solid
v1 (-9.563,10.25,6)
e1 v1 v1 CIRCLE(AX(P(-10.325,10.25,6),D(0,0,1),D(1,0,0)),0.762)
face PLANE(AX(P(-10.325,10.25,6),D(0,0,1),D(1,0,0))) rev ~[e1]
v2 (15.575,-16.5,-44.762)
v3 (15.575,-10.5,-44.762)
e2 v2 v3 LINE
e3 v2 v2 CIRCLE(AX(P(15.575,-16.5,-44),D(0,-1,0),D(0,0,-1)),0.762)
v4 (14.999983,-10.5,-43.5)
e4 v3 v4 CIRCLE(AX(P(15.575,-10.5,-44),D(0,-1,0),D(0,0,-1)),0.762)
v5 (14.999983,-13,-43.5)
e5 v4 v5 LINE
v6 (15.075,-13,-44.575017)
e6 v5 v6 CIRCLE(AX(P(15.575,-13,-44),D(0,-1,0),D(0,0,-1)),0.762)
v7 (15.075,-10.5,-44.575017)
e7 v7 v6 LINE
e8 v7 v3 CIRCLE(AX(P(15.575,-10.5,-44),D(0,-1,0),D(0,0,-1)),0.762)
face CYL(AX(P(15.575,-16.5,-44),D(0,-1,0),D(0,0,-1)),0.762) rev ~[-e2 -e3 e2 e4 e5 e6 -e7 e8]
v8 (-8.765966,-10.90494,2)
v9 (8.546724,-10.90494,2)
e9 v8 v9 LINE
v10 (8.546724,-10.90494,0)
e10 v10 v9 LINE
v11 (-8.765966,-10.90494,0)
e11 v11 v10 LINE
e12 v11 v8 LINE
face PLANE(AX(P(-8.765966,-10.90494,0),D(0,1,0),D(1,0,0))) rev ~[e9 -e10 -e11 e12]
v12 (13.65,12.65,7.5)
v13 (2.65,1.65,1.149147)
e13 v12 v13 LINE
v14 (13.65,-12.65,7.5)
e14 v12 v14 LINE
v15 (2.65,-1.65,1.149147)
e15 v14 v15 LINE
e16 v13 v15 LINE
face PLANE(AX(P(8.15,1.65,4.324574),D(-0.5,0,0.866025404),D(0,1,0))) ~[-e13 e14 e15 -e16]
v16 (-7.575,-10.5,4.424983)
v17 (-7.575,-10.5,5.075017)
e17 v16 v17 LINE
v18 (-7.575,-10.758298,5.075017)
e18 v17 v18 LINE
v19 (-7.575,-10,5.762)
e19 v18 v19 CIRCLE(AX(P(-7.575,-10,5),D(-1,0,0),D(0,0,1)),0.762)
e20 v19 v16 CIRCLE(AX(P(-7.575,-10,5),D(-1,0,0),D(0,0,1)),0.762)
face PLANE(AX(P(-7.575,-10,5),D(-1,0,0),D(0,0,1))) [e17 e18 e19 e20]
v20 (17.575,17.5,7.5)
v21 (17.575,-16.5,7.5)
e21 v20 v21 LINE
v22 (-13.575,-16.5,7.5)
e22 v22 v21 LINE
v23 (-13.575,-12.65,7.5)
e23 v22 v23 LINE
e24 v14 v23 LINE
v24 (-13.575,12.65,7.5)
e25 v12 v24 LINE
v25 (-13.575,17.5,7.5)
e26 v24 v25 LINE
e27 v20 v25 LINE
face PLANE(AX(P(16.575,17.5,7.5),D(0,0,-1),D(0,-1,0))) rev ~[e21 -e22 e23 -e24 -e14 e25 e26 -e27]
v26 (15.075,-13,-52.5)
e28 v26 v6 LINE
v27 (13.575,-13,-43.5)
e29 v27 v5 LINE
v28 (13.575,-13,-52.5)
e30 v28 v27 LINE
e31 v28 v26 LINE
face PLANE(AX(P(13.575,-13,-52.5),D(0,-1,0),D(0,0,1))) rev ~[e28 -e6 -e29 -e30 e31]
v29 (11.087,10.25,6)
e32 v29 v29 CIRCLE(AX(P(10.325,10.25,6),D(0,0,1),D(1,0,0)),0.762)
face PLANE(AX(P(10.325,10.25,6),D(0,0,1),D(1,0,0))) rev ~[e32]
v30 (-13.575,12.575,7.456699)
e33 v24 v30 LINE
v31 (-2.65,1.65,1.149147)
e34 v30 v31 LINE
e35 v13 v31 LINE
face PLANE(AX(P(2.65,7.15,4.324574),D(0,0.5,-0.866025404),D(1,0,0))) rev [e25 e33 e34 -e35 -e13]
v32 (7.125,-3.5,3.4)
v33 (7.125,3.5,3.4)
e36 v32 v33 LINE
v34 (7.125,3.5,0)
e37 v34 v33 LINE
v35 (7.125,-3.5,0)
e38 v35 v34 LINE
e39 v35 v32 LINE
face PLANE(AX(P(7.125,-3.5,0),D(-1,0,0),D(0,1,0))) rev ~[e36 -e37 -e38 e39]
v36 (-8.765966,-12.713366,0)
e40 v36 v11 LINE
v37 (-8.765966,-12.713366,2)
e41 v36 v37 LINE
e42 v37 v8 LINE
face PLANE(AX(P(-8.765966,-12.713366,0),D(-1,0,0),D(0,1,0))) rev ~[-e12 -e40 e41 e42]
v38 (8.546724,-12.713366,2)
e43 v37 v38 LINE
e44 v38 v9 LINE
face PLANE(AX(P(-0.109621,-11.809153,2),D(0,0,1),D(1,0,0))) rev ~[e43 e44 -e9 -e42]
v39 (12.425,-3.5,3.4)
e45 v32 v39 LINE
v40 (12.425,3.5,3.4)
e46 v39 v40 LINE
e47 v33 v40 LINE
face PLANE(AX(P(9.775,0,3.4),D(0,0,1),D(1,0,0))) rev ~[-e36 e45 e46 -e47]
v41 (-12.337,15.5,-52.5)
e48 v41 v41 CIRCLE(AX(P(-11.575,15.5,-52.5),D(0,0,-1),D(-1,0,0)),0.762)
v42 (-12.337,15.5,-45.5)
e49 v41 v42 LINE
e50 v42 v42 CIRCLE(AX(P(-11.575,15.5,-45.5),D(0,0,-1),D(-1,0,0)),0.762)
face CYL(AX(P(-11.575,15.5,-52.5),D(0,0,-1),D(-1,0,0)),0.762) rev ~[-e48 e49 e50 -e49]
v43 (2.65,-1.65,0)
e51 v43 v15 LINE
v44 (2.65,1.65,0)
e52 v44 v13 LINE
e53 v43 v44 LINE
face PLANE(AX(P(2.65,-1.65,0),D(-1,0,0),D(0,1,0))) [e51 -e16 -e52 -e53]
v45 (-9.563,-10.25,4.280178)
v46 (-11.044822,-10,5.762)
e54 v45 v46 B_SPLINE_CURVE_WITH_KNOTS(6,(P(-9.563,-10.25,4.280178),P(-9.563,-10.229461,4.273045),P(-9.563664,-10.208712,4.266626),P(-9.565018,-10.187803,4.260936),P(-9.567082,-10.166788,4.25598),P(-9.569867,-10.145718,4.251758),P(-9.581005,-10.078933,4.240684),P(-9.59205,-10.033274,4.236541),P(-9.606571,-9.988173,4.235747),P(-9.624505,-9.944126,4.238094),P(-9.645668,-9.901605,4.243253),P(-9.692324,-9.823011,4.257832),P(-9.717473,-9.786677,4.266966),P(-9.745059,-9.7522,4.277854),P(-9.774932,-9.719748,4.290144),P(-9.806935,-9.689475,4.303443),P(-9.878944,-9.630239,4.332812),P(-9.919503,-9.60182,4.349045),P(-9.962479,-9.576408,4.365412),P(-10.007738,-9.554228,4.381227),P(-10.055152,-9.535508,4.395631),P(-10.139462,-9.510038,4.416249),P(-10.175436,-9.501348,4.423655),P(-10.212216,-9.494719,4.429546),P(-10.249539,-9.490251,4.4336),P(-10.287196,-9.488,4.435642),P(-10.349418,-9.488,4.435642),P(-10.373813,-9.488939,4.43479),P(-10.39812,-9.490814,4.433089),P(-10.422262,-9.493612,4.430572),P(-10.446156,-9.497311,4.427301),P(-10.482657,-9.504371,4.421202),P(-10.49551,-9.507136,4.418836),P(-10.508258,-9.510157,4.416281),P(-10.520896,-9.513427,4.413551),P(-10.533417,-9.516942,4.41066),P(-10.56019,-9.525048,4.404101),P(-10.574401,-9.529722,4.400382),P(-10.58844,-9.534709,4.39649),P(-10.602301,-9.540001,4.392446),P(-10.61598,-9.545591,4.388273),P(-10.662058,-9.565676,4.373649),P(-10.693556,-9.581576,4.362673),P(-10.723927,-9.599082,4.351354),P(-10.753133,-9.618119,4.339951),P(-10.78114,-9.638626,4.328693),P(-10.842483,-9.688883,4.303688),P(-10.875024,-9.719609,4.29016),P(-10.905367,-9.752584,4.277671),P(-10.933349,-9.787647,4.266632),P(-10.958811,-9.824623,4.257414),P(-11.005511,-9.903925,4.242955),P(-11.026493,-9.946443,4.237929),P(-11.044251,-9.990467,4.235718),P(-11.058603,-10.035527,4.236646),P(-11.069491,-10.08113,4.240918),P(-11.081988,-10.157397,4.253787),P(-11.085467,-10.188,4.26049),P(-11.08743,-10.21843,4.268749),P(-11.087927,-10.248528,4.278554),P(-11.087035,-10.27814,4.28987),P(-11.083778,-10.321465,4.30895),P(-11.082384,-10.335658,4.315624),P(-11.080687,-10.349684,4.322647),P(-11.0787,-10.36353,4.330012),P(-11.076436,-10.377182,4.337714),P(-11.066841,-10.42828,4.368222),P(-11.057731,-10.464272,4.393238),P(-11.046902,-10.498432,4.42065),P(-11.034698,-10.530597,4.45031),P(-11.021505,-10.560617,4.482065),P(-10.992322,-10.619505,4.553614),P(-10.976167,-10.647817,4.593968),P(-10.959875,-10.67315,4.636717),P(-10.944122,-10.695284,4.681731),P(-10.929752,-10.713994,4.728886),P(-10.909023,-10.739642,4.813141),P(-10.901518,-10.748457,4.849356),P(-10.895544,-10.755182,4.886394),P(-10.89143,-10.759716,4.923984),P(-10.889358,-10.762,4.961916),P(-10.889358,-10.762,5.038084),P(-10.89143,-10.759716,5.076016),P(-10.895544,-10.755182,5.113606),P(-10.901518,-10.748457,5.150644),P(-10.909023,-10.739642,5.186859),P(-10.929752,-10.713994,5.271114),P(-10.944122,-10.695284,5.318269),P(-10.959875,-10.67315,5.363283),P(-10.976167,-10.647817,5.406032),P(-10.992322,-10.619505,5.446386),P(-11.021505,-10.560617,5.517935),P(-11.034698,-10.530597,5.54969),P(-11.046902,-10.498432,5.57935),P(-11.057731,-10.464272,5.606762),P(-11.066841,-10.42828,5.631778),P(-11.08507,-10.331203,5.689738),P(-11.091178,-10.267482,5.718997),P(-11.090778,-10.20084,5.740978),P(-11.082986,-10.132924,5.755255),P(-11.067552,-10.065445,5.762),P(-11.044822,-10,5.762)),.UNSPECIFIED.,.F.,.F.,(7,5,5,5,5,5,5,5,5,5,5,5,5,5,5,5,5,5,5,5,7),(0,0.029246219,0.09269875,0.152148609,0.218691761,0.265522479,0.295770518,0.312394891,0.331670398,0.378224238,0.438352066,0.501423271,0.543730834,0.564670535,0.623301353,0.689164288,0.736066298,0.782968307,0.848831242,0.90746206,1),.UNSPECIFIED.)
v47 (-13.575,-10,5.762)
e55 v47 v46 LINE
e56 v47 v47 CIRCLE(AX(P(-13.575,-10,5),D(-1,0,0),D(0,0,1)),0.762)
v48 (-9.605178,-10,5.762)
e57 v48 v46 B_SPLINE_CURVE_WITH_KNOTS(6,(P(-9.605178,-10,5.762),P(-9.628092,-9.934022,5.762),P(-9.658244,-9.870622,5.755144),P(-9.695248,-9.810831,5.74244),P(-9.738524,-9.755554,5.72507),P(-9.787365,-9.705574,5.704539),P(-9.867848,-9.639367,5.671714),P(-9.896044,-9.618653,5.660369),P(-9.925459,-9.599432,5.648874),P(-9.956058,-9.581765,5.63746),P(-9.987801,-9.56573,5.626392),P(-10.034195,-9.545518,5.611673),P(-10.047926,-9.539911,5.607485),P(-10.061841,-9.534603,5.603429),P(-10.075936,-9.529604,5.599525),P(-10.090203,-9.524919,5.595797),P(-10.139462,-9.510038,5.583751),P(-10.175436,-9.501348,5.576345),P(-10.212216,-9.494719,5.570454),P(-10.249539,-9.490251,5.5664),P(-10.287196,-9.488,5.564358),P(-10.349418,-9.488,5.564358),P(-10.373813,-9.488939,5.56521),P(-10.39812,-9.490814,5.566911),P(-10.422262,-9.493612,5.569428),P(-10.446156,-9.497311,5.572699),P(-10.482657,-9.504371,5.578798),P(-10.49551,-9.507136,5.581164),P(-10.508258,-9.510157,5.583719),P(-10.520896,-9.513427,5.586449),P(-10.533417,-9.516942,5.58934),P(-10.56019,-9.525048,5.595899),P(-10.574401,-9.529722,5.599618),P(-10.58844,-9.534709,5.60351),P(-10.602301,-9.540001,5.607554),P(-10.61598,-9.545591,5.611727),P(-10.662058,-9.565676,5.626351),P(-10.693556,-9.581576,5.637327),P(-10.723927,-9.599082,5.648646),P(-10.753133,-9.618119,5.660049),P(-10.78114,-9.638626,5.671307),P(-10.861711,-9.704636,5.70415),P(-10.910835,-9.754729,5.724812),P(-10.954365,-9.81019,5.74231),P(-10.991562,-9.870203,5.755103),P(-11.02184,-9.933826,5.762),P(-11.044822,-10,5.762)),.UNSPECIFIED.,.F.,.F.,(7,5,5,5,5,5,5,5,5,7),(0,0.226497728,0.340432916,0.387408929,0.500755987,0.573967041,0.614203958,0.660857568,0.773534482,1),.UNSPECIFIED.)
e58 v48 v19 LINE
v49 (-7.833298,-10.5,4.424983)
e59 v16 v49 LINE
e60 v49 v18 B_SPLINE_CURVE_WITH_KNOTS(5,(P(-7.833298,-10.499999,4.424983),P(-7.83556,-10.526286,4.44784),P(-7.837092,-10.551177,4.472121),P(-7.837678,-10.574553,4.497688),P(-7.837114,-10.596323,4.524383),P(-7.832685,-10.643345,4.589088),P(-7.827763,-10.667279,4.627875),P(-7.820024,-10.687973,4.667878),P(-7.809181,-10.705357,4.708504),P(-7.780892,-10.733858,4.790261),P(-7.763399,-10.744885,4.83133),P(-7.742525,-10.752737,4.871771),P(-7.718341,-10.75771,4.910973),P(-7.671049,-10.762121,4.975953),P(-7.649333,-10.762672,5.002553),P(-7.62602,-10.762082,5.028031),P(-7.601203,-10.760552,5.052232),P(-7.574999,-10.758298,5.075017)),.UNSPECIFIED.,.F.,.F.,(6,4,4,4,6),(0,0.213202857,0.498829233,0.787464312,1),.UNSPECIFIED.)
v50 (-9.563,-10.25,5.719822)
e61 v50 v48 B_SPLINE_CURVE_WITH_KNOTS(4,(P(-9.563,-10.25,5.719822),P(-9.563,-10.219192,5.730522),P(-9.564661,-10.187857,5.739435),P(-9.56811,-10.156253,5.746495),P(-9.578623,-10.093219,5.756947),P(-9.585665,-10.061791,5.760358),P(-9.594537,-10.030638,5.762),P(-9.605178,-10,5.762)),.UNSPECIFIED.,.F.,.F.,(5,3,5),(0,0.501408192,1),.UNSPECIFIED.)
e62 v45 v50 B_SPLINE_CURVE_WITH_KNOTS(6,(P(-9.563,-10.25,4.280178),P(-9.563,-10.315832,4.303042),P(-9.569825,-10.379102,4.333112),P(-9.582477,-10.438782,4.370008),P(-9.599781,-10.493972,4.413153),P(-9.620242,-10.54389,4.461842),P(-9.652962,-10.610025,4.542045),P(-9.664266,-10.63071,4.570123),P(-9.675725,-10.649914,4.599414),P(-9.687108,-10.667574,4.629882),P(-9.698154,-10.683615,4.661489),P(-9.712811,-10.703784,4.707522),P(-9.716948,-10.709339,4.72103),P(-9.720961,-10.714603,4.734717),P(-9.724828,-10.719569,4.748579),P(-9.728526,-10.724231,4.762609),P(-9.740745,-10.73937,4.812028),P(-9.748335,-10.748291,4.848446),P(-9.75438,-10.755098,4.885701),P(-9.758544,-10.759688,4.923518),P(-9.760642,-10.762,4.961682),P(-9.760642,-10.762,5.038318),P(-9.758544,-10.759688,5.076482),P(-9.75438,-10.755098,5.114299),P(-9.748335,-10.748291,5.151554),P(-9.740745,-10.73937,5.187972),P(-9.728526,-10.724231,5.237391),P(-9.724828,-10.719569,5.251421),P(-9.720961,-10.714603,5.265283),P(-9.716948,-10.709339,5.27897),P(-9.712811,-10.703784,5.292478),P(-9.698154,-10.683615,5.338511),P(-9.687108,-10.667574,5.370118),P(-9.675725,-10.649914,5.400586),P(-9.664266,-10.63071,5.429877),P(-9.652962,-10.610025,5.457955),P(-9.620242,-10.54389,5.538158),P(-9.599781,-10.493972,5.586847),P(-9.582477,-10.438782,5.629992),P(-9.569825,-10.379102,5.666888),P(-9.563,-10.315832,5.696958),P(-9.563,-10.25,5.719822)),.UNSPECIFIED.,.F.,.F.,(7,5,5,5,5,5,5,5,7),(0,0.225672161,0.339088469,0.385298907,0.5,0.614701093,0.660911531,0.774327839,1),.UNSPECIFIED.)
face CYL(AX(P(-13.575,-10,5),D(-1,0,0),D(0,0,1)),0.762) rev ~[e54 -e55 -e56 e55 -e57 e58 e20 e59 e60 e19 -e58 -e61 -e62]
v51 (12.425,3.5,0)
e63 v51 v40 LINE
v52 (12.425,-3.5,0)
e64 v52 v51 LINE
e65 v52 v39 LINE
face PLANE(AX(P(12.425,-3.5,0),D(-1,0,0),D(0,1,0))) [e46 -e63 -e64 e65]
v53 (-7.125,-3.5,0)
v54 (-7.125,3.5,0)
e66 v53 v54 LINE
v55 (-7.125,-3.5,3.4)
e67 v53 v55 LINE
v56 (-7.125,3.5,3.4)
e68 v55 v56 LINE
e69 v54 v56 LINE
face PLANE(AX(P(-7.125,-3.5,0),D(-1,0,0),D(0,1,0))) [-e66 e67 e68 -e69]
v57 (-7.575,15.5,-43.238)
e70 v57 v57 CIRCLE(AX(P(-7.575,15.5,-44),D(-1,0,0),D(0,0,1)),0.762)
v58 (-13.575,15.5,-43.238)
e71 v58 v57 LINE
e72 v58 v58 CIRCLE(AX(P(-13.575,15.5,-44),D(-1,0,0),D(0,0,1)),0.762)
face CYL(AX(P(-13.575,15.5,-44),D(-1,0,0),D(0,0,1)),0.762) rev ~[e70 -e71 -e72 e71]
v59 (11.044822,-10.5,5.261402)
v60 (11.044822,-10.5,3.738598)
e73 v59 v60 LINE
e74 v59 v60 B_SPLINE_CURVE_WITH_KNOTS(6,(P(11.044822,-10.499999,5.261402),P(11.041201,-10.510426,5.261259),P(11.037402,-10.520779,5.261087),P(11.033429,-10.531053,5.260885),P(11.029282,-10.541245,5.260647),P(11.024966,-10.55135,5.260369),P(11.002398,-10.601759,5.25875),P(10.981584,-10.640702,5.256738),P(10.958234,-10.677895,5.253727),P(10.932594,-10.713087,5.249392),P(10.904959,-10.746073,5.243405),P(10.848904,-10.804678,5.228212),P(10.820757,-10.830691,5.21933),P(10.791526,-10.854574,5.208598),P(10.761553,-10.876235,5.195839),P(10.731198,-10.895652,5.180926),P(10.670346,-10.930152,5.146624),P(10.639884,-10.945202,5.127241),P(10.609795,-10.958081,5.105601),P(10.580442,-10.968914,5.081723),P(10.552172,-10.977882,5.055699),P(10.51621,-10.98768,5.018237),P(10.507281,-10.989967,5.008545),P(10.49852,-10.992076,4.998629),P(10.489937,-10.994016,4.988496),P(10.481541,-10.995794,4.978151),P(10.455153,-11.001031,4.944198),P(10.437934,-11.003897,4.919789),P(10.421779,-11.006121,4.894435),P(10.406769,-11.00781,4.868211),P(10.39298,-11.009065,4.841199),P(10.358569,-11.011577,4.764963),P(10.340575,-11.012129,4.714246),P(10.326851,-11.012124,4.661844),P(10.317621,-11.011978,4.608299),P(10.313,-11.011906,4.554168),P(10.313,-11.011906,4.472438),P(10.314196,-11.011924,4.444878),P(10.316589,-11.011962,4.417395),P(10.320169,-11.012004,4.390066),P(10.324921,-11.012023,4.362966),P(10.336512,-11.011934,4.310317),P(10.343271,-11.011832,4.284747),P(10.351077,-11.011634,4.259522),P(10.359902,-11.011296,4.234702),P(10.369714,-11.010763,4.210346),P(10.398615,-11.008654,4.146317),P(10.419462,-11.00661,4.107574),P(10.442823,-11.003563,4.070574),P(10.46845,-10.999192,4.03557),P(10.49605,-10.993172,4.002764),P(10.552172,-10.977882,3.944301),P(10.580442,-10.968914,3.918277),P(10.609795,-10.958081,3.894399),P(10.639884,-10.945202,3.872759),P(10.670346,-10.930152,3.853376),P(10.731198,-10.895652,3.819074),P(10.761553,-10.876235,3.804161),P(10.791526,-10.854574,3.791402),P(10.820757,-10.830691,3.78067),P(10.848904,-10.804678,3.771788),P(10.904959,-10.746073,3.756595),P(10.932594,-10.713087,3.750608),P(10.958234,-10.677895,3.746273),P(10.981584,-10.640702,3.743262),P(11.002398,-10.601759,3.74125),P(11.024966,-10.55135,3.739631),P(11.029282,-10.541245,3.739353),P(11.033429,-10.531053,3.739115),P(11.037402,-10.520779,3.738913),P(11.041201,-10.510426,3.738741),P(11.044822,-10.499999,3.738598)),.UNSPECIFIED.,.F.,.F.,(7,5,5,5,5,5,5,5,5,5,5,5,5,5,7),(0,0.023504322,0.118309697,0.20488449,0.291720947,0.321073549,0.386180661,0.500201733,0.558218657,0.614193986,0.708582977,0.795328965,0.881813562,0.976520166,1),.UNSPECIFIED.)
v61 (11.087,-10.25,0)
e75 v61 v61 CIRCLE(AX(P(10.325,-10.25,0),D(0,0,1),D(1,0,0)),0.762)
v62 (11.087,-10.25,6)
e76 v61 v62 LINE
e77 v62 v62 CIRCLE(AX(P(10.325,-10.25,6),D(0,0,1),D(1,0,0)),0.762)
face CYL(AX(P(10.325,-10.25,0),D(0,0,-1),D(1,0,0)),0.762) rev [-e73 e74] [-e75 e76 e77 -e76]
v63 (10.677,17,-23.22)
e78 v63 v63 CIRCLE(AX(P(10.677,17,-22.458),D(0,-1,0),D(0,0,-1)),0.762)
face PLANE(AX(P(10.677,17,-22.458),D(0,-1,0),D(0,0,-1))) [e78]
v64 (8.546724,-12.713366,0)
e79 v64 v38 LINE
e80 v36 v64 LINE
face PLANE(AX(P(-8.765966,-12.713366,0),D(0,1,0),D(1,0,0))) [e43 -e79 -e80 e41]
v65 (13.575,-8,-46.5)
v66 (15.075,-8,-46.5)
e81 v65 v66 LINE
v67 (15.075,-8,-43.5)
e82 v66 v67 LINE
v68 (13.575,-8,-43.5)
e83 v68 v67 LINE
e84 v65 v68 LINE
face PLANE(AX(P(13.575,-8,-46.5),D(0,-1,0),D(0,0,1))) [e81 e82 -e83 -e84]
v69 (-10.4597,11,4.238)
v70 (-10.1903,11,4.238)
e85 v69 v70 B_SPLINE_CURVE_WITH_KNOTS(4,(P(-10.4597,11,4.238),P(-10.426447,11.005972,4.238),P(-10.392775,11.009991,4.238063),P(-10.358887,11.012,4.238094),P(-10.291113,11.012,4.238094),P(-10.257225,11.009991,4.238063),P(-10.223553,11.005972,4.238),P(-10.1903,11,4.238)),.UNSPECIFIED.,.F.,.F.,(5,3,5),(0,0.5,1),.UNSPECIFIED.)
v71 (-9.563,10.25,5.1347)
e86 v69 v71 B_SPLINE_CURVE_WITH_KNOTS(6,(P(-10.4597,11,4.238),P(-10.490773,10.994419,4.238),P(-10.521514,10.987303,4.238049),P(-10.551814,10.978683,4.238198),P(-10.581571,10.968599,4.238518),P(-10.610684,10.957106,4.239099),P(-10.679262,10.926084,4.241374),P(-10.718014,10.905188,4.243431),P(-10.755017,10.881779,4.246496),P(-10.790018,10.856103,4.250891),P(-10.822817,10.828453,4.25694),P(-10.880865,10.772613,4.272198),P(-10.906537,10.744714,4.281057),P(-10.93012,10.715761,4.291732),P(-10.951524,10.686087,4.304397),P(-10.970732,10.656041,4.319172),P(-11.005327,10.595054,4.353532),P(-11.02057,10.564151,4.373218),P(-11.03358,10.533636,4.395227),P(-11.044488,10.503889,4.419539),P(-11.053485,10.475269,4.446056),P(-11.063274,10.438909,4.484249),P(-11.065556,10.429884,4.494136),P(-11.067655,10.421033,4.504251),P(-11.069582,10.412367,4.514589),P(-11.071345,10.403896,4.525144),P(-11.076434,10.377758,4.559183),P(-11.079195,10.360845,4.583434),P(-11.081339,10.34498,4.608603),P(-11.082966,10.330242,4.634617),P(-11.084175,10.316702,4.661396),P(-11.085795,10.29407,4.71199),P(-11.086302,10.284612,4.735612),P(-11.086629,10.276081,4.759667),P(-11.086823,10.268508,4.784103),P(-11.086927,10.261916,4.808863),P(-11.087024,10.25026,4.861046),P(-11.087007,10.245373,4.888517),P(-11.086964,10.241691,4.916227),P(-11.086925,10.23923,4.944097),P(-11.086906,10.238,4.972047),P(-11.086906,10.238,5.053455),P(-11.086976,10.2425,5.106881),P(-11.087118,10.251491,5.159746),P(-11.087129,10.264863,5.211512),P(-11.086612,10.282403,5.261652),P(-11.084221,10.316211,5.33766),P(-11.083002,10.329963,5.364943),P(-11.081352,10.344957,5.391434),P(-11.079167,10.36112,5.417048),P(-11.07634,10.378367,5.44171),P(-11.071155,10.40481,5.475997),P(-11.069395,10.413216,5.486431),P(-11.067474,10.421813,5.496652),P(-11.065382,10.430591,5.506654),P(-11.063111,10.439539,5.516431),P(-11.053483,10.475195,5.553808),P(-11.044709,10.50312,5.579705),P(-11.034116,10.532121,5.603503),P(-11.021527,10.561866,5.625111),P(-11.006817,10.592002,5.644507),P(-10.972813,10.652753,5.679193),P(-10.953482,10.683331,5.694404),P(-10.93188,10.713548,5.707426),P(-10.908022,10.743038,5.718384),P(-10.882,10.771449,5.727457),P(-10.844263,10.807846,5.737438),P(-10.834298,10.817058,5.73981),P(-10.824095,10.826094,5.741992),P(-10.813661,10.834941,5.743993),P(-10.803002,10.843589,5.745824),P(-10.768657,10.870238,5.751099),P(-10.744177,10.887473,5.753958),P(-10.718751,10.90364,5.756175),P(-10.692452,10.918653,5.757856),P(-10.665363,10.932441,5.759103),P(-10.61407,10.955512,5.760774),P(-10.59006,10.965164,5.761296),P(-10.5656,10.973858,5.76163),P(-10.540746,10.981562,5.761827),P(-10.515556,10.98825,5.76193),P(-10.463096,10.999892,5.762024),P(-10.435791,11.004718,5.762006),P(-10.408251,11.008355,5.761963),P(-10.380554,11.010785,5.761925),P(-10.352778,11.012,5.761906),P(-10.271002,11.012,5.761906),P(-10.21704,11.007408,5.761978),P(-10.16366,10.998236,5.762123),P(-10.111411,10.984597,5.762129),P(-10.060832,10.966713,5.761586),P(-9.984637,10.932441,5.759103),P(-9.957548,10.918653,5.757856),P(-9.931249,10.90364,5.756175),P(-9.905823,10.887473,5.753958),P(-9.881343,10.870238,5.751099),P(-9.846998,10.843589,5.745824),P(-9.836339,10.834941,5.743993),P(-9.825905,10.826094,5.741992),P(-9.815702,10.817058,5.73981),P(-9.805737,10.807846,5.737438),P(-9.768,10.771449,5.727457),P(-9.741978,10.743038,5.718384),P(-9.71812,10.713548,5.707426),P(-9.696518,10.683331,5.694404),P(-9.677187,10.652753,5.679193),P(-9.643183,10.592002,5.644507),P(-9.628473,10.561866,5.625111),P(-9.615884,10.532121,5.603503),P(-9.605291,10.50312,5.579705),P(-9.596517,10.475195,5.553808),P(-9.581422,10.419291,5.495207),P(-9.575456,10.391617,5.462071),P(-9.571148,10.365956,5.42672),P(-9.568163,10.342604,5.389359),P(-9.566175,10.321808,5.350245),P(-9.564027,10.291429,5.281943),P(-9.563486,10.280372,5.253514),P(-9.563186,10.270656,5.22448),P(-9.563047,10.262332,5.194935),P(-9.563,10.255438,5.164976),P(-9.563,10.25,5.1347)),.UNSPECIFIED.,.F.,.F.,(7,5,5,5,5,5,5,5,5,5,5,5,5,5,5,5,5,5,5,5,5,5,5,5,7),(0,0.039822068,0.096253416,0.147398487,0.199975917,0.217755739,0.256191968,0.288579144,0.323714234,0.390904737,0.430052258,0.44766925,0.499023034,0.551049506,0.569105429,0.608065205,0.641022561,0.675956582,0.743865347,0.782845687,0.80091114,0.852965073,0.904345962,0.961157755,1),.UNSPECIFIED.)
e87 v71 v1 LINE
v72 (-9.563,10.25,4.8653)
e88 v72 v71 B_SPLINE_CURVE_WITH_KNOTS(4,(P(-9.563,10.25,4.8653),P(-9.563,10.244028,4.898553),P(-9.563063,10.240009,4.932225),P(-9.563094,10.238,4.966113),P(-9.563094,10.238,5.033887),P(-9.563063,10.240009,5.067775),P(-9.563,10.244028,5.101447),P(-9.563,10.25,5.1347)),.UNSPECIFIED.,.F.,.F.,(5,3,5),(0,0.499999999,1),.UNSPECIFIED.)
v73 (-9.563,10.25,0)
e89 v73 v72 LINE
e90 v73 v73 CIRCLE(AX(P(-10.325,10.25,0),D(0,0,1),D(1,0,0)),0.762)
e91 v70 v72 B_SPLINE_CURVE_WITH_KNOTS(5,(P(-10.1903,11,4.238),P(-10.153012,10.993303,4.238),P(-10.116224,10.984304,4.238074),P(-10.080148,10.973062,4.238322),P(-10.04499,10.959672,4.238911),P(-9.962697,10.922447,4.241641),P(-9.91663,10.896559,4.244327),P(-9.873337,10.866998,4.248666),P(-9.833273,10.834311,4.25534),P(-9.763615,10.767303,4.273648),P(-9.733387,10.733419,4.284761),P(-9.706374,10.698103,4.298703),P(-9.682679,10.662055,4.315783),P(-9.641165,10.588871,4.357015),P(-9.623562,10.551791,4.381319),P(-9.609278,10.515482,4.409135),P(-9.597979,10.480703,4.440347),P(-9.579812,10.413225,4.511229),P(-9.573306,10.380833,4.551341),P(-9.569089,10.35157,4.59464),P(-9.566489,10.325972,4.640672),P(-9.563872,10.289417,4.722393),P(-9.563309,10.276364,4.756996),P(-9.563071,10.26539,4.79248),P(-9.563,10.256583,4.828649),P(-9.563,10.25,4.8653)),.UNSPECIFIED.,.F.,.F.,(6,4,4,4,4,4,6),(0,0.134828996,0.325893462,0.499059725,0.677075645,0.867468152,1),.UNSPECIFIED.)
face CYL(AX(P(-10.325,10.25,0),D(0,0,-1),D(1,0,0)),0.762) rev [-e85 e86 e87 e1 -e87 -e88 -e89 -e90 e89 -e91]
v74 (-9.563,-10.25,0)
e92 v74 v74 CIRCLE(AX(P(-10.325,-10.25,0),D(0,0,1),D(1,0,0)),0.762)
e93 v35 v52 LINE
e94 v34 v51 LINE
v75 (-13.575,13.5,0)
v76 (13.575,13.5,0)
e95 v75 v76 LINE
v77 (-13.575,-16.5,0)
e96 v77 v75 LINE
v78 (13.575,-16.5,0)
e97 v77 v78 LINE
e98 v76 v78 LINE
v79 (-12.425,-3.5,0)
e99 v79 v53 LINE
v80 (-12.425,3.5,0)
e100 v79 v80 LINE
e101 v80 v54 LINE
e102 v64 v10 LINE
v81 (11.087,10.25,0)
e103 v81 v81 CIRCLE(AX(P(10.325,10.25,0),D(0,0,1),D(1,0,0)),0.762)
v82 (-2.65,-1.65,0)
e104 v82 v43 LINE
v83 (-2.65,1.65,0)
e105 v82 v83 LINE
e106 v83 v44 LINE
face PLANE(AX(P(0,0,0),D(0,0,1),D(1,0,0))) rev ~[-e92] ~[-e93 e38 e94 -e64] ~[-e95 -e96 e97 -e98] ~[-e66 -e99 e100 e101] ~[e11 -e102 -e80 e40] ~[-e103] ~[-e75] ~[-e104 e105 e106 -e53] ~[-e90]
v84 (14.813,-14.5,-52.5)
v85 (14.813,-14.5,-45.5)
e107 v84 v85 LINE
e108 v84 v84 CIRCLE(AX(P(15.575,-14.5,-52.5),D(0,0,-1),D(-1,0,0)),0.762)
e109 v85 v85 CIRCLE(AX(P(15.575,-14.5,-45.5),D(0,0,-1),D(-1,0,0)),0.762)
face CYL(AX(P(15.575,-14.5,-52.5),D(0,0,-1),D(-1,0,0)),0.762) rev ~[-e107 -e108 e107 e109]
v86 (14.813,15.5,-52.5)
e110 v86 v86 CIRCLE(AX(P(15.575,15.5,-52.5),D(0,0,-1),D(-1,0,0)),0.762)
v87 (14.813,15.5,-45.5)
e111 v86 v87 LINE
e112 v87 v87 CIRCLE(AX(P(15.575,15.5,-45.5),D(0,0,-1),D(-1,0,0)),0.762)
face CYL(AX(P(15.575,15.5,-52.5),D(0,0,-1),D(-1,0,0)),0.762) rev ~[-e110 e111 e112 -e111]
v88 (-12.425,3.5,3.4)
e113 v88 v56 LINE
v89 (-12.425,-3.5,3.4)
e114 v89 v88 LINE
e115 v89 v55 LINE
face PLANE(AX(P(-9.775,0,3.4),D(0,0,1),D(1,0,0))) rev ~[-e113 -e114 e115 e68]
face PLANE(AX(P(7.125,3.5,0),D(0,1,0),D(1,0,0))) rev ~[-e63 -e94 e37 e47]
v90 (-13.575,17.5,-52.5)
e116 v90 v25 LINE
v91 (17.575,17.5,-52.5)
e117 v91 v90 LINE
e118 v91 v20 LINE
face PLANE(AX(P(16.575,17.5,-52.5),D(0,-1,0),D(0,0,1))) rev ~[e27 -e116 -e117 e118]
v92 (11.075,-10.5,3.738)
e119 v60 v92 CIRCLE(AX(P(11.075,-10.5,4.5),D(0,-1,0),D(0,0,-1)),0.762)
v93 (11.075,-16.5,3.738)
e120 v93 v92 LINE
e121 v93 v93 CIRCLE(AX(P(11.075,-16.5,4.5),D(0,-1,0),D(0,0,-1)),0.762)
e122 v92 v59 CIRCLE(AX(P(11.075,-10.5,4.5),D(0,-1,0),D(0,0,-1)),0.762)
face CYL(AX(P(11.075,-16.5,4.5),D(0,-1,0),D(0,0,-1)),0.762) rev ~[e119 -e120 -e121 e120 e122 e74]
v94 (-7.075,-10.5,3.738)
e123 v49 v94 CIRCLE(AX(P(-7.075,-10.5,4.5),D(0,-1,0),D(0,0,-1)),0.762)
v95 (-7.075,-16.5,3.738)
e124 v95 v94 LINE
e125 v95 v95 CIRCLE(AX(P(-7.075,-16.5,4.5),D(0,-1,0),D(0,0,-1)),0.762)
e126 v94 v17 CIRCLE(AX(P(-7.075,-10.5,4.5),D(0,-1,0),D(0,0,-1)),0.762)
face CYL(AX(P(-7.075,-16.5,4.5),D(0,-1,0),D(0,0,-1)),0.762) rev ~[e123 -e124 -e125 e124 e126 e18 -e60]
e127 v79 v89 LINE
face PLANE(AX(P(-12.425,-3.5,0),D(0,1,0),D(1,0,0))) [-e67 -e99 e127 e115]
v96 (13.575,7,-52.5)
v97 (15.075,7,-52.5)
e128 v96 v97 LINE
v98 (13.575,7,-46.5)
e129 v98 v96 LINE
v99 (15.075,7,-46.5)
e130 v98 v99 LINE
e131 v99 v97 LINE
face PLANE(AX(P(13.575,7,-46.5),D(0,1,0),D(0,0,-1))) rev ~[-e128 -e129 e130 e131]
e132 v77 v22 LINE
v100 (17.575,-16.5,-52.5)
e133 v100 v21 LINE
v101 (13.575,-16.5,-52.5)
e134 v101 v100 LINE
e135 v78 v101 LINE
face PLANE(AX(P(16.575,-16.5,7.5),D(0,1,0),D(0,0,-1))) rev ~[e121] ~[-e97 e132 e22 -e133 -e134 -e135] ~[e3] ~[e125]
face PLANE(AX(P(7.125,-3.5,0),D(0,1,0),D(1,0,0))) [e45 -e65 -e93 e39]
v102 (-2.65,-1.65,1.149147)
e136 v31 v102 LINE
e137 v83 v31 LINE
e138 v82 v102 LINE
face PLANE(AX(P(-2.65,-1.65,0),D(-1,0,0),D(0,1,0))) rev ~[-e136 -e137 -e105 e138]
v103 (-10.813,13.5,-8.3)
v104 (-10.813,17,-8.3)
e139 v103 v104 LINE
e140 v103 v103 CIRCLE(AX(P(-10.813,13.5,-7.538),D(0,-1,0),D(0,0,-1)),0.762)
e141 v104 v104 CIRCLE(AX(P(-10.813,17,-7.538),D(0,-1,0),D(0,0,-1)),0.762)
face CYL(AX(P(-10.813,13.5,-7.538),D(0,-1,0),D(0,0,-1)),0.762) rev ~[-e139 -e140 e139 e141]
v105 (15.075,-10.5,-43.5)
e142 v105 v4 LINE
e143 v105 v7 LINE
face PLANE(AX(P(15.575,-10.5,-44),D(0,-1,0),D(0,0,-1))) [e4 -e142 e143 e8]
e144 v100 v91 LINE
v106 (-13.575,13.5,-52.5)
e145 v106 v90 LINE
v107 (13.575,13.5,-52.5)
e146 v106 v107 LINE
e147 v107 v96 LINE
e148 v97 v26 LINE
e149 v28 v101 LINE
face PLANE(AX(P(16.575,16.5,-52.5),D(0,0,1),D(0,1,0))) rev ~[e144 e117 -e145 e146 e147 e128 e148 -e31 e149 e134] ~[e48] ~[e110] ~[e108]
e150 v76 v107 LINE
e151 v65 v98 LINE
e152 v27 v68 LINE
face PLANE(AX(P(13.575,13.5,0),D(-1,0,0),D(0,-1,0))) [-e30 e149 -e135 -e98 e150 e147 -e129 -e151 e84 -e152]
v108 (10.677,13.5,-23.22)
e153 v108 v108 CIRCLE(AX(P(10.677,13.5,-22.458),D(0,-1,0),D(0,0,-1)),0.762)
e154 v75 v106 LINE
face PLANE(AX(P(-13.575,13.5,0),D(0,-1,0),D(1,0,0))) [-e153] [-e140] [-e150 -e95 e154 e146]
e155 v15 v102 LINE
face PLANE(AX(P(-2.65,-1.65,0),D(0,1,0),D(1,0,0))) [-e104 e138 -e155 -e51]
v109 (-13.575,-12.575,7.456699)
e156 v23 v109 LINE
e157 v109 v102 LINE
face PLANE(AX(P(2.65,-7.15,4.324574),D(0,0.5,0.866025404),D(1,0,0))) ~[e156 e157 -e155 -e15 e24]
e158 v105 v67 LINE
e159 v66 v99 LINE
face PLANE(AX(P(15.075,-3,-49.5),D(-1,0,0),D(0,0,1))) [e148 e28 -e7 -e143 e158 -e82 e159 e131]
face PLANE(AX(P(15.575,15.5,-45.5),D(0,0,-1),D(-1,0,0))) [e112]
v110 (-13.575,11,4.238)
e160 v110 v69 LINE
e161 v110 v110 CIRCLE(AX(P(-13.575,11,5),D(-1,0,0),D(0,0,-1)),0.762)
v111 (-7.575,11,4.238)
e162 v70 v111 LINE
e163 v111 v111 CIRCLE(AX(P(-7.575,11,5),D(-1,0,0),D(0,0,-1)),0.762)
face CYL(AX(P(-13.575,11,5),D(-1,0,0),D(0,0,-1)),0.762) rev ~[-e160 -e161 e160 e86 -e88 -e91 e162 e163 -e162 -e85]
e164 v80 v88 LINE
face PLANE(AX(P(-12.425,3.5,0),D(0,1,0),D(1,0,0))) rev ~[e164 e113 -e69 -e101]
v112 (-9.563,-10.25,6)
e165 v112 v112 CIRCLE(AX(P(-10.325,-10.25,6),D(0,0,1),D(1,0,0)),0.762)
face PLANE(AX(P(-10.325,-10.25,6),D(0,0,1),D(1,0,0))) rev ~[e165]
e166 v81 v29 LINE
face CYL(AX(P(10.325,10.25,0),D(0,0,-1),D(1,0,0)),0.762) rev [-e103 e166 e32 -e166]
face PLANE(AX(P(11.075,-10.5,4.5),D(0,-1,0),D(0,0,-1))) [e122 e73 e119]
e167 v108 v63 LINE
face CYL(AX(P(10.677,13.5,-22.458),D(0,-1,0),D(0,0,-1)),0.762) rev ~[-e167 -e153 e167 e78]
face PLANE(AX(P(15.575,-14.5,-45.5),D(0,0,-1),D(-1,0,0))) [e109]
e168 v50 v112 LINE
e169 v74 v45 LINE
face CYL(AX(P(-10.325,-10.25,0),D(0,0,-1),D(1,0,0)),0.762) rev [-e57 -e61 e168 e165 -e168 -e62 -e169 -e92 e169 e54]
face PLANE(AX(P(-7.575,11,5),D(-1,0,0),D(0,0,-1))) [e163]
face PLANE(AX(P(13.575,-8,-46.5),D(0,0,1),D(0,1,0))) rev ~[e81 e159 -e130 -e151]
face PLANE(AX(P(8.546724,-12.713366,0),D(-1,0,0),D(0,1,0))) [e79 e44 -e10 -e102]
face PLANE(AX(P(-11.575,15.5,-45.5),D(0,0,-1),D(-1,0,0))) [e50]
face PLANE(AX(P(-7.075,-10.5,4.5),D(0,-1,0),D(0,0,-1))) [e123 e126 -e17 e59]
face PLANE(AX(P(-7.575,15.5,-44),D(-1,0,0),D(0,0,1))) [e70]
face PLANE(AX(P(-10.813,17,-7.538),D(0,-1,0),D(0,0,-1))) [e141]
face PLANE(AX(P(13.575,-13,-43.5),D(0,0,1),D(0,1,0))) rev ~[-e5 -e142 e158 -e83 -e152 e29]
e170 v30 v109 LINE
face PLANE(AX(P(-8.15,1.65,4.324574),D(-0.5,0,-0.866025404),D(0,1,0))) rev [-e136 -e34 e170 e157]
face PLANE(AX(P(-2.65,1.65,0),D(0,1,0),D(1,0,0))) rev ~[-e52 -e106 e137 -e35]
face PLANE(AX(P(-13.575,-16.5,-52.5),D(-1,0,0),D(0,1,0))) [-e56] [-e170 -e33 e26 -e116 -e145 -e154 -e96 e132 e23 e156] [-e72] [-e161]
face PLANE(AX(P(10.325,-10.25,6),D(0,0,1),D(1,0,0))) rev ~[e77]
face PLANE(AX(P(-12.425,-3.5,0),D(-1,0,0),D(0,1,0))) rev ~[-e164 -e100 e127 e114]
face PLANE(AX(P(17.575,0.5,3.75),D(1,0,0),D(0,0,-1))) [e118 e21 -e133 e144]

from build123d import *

# Parameters (mm, degrees)
SKETCH2_W           = 33.15
SKETCH2_H           = 33
BOSS_EXTRUDE1_DEPTH = 7.5
SKETCH3_R           = 0.762
CUT_EXTRUDE1_DEPTH  = 6
SKETCH4_W           = 5.3
SKETCH4_H           = 7
CUT_EXTRUDE2_DEPTH  = 3.4
SKETCH5_W           = 17.312690108
SKETCH5_H           = 1.808425299
CUT_EXTRUDE3_DEPTH  = 2
SKETCH6_W           = 5.3
SKETCH6_H           = 3.3
CUT_EXTRUDE4_DEPTH  = 25.560753755
CHAMFER3_SIZE       = 11
CHAMFER3_SIZE2      = 6.350852961
BOSS_EXTRUDE2_DEPTH = 52.5
SKETCH8_W           = 33.15
SKETCH8_H           = 60
BOSS_EXTRUDE3_DEPTH = 1
SKETCH9_W           = 3
SKETCH9_H           = 34
CUT_EXTRUDE5_DEPTH  = 60
SKETCH10_R          = 0.762
CUT_EXTRUDE6_DEPTH  = 6
SKETCH11_R          = 0.762
CUT_EXTRUDE7_DEPTH  = 6
SKETCH12_R          = 0.762
CUT_EXTRUDE9_DEPTH  = 7
SKETCH13_W          = 3
SKETCH13_H          = 5
CUT_EXTRUDE10_DEPTH = 1.5
SKETCH14_W          = 52.5
SKETCH14_H          = 1
BOSS_EXTRUDE4_DEPTH = 1
SKETCH15_R          = 0.762
CUT_EXTRUDE11_DEPTH = 3.5


with BuildPart() as part:
    # Sketch2 → Boss-Extrude1 (new body)
    with BuildSketch(Plane.XY):
        Rectangle(SKETCH2_W, SKETCH2_H)
    extrude(amount=BOSS_EXTRUDE1_DEPTH)

    # Sketch3 → Cut-Extrude1 (cut)
    with BuildSketch(Plane.XY):
        with Locations((10.325, 10.25)):
            Circle(SKETCH3_R)
        with Locations((-10.325, 10.25)):
            Circle(SKETCH3_R)
        with Locations((10.325, -10.25)):
            Circle(SKETCH3_R)
        with Locations((-10.325, -10.25)):
            Circle(SKETCH3_R)
    extrude(amount=CUT_EXTRUDE1_DEPTH, mode=Mode.SUBTRACT)

    # Sketch4 → Cut-Extrude2 (cut)
    with BuildSketch(Plane.XY):
        with Locations((9.775, 0)):
            Rectangle(SKETCH4_W, SKETCH4_H)
        with Locations((-9.775, 0)):
            Rectangle(SKETCH4_W, SKETCH4_H)
    extrude(amount=CUT_EXTRUDE2_DEPTH, mode=Mode.SUBTRACT)

    # Sketch5 → Cut-Extrude3 (cut)
    with BuildSketch(Plane.XY):
        with Locations((-0.109621432, -11.80915301)):
            Rectangle(SKETCH5_W, SKETCH5_H)
    extrude(amount=CUT_EXTRUDE3_DEPTH, mode=Mode.SUBTRACT)

    # Sketch6 → Cut-Extrude4 (cut, through all)
    with BuildSketch(Plane.XY):
        Rectangle(SKETCH6_W, SKETCH6_H)
    extrude(amount=CUT_EXTRUDE4_DEPTH, mode=Mode.SUBTRACT)

    # Chamfer3
    chamfer3_edges = [part.edges().sort_by_distance(p)[0] for p in [
        (2.65, 0, 7.5),
        (0, 1.65, 7.5),
        (-2.65, 0, 7.5),
        (0, -1.65, 7.5),
    ]]
    chamfer3_side = [part.faces().sort_by_distance(p)[0] for p in [
        (-16.107247662, 0, 7.5),
    ]]
    chamfer(chamfer3_edges, length=CHAMFER3_SIZE, length2=CHAMFER3_SIZE2, reference=chamfer3_side[0])

    # Sketch7 → Boss-Extrude2 (add)
    with BuildSketch(Plane.XY):
        Polygon((13.575, -16.5), (17.575, -16.5), (17.575, 16.5), (-16.575, 16.5), (-16.575, -16.5), (-13.575, -16.5), (-13.575, 13.5), (13.575, 13.5), align=None)
    extrude(amount=-BOSS_EXTRUDE2_DEPTH)

    # Sketch8 → Boss-Extrude3 (add)
    with BuildSketch(Plane(origin=(0, 16.5, 0), x_dir=(1, 0, 0), z_dir=(0, 1, 0))):
        with Locations((0, 22.5)):
            Rectangle(SKETCH8_W, SKETCH8_H)
    extrude(amount=BOSS_EXTRUDE3_DEPTH)

    # Sketch9 → Cut-Extrude5 (cut)
    with BuildSketch(Plane(origin=(0, 0, -52.5), x_dir=(-1, 0, 0), z_dir=(0, 0, -1))):
        with Locations((15.075, 0.5)):
            Rectangle(SKETCH9_W, SKETCH9_H)
    extrude(amount=-CUT_EXTRUDE5_DEPTH, mode=Mode.SUBTRACT)

    # Sketch10 → Cut-Extrude6 (cut)
    with BuildSketch(Plane.ZY.offset(13.575)):
        with Locations((-44, 15.5)):
            Circle(SKETCH10_R)
        with Locations(Location((5, 11, 0), (0, 0, 180))):
            Circle(SKETCH10_R)
        with Locations((5, -10)):
            Circle(SKETCH10_R)
    extrude(amount=-CUT_EXTRUDE6_DEPTH, mode=Mode.SUBTRACT)

    # Sketch11 → Cut-Extrude7 (cut)
    with BuildSketch(Plane(origin=(0, -16.5, 0), x_dir=(-1, 0, 0), z_dir=(0, -1, 0))):
        with Locations(Location((-15.575, 44, 0), (0, 0, 90))):
            Circle(SKETCH11_R)
        with Locations((-15.575, -51.5)):
            Circle(SKETCH11_R)
        with Locations(Location((7.075, -4.5, 0), (0, 0, 90))):
            Circle(SKETCH11_R)
        with Locations(Location((-11.075, -4.5, 0), (0, 0, 90))):
            Circle(SKETCH11_R)
    extrude(amount=-CUT_EXTRUDE7_DEPTH, mode=Mode.SUBTRACT)

    # Sketch12 → Cut-Extrude9 (cut)
    with BuildSketch(Plane(origin=(0, 0, -52.5), x_dir=(-1, 0, 0), z_dir=(0, 0, -1))):
        with Locations((-15.575, 15.5)):
            Circle(SKETCH12_R)
        with Locations((-15.575, -14.5)):
            Circle(SKETCH12_R)
        with Locations((11.575, 15.5)):
            Circle(SKETCH12_R)
    extrude(amount=-CUT_EXTRUDE9_DEPTH, mode=Mode.SUBTRACT)

    # Sketch13 → Cut-Extrude10 (cut)
    with BuildSketch(Plane.ZY.offset(-13.575)):
        Polygon((-46.5, 7), (-52.5, 7), (-52.5, -13), (-46.5, -13), (-46.5, -8), align=None)
        with Locations((-45, -10.5)):
            Rectangle(SKETCH13_W, SKETCH13_H)
    extrude(amount=-CUT_EXTRUDE10_DEPTH, mode=Mode.SUBTRACT)

    # Sketch14 → Boss-Extrude4 (add)
    with BuildSketch(Plane(origin=(16.575, 0, 0), x_dir=(0, 0, -1), z_dir=(1, 0, 0))):
        Polygon((0, 17.5), (-7.5, 17.5), (-7.5, -16.5), (0, -16.5), (0, 16.5), align=None)
        with Locations((26.25, 17)):
            Rectangle(SKETCH14_W, SKETCH14_H)
    extrude(amount=BOSS_EXTRUDE4_DEPTH)

    # Sketch15 → Cut-Extrude11 (cut)
    with BuildSketch(Plane.XZ.offset(-13.5)):
        with Locations(Location((-10.813, -7.538, 0), (0, 0, 270))):
            Circle(SKETCH15_R)
        with Locations(Location((10.677, -22.458, 0), (0, 0, 270))):
            Circle(SKETCH15_R)
    extrude(amount=-CUT_EXTRUDE11_DEPTH, mode=Mode.SUBTRACT)


solid = part.part
